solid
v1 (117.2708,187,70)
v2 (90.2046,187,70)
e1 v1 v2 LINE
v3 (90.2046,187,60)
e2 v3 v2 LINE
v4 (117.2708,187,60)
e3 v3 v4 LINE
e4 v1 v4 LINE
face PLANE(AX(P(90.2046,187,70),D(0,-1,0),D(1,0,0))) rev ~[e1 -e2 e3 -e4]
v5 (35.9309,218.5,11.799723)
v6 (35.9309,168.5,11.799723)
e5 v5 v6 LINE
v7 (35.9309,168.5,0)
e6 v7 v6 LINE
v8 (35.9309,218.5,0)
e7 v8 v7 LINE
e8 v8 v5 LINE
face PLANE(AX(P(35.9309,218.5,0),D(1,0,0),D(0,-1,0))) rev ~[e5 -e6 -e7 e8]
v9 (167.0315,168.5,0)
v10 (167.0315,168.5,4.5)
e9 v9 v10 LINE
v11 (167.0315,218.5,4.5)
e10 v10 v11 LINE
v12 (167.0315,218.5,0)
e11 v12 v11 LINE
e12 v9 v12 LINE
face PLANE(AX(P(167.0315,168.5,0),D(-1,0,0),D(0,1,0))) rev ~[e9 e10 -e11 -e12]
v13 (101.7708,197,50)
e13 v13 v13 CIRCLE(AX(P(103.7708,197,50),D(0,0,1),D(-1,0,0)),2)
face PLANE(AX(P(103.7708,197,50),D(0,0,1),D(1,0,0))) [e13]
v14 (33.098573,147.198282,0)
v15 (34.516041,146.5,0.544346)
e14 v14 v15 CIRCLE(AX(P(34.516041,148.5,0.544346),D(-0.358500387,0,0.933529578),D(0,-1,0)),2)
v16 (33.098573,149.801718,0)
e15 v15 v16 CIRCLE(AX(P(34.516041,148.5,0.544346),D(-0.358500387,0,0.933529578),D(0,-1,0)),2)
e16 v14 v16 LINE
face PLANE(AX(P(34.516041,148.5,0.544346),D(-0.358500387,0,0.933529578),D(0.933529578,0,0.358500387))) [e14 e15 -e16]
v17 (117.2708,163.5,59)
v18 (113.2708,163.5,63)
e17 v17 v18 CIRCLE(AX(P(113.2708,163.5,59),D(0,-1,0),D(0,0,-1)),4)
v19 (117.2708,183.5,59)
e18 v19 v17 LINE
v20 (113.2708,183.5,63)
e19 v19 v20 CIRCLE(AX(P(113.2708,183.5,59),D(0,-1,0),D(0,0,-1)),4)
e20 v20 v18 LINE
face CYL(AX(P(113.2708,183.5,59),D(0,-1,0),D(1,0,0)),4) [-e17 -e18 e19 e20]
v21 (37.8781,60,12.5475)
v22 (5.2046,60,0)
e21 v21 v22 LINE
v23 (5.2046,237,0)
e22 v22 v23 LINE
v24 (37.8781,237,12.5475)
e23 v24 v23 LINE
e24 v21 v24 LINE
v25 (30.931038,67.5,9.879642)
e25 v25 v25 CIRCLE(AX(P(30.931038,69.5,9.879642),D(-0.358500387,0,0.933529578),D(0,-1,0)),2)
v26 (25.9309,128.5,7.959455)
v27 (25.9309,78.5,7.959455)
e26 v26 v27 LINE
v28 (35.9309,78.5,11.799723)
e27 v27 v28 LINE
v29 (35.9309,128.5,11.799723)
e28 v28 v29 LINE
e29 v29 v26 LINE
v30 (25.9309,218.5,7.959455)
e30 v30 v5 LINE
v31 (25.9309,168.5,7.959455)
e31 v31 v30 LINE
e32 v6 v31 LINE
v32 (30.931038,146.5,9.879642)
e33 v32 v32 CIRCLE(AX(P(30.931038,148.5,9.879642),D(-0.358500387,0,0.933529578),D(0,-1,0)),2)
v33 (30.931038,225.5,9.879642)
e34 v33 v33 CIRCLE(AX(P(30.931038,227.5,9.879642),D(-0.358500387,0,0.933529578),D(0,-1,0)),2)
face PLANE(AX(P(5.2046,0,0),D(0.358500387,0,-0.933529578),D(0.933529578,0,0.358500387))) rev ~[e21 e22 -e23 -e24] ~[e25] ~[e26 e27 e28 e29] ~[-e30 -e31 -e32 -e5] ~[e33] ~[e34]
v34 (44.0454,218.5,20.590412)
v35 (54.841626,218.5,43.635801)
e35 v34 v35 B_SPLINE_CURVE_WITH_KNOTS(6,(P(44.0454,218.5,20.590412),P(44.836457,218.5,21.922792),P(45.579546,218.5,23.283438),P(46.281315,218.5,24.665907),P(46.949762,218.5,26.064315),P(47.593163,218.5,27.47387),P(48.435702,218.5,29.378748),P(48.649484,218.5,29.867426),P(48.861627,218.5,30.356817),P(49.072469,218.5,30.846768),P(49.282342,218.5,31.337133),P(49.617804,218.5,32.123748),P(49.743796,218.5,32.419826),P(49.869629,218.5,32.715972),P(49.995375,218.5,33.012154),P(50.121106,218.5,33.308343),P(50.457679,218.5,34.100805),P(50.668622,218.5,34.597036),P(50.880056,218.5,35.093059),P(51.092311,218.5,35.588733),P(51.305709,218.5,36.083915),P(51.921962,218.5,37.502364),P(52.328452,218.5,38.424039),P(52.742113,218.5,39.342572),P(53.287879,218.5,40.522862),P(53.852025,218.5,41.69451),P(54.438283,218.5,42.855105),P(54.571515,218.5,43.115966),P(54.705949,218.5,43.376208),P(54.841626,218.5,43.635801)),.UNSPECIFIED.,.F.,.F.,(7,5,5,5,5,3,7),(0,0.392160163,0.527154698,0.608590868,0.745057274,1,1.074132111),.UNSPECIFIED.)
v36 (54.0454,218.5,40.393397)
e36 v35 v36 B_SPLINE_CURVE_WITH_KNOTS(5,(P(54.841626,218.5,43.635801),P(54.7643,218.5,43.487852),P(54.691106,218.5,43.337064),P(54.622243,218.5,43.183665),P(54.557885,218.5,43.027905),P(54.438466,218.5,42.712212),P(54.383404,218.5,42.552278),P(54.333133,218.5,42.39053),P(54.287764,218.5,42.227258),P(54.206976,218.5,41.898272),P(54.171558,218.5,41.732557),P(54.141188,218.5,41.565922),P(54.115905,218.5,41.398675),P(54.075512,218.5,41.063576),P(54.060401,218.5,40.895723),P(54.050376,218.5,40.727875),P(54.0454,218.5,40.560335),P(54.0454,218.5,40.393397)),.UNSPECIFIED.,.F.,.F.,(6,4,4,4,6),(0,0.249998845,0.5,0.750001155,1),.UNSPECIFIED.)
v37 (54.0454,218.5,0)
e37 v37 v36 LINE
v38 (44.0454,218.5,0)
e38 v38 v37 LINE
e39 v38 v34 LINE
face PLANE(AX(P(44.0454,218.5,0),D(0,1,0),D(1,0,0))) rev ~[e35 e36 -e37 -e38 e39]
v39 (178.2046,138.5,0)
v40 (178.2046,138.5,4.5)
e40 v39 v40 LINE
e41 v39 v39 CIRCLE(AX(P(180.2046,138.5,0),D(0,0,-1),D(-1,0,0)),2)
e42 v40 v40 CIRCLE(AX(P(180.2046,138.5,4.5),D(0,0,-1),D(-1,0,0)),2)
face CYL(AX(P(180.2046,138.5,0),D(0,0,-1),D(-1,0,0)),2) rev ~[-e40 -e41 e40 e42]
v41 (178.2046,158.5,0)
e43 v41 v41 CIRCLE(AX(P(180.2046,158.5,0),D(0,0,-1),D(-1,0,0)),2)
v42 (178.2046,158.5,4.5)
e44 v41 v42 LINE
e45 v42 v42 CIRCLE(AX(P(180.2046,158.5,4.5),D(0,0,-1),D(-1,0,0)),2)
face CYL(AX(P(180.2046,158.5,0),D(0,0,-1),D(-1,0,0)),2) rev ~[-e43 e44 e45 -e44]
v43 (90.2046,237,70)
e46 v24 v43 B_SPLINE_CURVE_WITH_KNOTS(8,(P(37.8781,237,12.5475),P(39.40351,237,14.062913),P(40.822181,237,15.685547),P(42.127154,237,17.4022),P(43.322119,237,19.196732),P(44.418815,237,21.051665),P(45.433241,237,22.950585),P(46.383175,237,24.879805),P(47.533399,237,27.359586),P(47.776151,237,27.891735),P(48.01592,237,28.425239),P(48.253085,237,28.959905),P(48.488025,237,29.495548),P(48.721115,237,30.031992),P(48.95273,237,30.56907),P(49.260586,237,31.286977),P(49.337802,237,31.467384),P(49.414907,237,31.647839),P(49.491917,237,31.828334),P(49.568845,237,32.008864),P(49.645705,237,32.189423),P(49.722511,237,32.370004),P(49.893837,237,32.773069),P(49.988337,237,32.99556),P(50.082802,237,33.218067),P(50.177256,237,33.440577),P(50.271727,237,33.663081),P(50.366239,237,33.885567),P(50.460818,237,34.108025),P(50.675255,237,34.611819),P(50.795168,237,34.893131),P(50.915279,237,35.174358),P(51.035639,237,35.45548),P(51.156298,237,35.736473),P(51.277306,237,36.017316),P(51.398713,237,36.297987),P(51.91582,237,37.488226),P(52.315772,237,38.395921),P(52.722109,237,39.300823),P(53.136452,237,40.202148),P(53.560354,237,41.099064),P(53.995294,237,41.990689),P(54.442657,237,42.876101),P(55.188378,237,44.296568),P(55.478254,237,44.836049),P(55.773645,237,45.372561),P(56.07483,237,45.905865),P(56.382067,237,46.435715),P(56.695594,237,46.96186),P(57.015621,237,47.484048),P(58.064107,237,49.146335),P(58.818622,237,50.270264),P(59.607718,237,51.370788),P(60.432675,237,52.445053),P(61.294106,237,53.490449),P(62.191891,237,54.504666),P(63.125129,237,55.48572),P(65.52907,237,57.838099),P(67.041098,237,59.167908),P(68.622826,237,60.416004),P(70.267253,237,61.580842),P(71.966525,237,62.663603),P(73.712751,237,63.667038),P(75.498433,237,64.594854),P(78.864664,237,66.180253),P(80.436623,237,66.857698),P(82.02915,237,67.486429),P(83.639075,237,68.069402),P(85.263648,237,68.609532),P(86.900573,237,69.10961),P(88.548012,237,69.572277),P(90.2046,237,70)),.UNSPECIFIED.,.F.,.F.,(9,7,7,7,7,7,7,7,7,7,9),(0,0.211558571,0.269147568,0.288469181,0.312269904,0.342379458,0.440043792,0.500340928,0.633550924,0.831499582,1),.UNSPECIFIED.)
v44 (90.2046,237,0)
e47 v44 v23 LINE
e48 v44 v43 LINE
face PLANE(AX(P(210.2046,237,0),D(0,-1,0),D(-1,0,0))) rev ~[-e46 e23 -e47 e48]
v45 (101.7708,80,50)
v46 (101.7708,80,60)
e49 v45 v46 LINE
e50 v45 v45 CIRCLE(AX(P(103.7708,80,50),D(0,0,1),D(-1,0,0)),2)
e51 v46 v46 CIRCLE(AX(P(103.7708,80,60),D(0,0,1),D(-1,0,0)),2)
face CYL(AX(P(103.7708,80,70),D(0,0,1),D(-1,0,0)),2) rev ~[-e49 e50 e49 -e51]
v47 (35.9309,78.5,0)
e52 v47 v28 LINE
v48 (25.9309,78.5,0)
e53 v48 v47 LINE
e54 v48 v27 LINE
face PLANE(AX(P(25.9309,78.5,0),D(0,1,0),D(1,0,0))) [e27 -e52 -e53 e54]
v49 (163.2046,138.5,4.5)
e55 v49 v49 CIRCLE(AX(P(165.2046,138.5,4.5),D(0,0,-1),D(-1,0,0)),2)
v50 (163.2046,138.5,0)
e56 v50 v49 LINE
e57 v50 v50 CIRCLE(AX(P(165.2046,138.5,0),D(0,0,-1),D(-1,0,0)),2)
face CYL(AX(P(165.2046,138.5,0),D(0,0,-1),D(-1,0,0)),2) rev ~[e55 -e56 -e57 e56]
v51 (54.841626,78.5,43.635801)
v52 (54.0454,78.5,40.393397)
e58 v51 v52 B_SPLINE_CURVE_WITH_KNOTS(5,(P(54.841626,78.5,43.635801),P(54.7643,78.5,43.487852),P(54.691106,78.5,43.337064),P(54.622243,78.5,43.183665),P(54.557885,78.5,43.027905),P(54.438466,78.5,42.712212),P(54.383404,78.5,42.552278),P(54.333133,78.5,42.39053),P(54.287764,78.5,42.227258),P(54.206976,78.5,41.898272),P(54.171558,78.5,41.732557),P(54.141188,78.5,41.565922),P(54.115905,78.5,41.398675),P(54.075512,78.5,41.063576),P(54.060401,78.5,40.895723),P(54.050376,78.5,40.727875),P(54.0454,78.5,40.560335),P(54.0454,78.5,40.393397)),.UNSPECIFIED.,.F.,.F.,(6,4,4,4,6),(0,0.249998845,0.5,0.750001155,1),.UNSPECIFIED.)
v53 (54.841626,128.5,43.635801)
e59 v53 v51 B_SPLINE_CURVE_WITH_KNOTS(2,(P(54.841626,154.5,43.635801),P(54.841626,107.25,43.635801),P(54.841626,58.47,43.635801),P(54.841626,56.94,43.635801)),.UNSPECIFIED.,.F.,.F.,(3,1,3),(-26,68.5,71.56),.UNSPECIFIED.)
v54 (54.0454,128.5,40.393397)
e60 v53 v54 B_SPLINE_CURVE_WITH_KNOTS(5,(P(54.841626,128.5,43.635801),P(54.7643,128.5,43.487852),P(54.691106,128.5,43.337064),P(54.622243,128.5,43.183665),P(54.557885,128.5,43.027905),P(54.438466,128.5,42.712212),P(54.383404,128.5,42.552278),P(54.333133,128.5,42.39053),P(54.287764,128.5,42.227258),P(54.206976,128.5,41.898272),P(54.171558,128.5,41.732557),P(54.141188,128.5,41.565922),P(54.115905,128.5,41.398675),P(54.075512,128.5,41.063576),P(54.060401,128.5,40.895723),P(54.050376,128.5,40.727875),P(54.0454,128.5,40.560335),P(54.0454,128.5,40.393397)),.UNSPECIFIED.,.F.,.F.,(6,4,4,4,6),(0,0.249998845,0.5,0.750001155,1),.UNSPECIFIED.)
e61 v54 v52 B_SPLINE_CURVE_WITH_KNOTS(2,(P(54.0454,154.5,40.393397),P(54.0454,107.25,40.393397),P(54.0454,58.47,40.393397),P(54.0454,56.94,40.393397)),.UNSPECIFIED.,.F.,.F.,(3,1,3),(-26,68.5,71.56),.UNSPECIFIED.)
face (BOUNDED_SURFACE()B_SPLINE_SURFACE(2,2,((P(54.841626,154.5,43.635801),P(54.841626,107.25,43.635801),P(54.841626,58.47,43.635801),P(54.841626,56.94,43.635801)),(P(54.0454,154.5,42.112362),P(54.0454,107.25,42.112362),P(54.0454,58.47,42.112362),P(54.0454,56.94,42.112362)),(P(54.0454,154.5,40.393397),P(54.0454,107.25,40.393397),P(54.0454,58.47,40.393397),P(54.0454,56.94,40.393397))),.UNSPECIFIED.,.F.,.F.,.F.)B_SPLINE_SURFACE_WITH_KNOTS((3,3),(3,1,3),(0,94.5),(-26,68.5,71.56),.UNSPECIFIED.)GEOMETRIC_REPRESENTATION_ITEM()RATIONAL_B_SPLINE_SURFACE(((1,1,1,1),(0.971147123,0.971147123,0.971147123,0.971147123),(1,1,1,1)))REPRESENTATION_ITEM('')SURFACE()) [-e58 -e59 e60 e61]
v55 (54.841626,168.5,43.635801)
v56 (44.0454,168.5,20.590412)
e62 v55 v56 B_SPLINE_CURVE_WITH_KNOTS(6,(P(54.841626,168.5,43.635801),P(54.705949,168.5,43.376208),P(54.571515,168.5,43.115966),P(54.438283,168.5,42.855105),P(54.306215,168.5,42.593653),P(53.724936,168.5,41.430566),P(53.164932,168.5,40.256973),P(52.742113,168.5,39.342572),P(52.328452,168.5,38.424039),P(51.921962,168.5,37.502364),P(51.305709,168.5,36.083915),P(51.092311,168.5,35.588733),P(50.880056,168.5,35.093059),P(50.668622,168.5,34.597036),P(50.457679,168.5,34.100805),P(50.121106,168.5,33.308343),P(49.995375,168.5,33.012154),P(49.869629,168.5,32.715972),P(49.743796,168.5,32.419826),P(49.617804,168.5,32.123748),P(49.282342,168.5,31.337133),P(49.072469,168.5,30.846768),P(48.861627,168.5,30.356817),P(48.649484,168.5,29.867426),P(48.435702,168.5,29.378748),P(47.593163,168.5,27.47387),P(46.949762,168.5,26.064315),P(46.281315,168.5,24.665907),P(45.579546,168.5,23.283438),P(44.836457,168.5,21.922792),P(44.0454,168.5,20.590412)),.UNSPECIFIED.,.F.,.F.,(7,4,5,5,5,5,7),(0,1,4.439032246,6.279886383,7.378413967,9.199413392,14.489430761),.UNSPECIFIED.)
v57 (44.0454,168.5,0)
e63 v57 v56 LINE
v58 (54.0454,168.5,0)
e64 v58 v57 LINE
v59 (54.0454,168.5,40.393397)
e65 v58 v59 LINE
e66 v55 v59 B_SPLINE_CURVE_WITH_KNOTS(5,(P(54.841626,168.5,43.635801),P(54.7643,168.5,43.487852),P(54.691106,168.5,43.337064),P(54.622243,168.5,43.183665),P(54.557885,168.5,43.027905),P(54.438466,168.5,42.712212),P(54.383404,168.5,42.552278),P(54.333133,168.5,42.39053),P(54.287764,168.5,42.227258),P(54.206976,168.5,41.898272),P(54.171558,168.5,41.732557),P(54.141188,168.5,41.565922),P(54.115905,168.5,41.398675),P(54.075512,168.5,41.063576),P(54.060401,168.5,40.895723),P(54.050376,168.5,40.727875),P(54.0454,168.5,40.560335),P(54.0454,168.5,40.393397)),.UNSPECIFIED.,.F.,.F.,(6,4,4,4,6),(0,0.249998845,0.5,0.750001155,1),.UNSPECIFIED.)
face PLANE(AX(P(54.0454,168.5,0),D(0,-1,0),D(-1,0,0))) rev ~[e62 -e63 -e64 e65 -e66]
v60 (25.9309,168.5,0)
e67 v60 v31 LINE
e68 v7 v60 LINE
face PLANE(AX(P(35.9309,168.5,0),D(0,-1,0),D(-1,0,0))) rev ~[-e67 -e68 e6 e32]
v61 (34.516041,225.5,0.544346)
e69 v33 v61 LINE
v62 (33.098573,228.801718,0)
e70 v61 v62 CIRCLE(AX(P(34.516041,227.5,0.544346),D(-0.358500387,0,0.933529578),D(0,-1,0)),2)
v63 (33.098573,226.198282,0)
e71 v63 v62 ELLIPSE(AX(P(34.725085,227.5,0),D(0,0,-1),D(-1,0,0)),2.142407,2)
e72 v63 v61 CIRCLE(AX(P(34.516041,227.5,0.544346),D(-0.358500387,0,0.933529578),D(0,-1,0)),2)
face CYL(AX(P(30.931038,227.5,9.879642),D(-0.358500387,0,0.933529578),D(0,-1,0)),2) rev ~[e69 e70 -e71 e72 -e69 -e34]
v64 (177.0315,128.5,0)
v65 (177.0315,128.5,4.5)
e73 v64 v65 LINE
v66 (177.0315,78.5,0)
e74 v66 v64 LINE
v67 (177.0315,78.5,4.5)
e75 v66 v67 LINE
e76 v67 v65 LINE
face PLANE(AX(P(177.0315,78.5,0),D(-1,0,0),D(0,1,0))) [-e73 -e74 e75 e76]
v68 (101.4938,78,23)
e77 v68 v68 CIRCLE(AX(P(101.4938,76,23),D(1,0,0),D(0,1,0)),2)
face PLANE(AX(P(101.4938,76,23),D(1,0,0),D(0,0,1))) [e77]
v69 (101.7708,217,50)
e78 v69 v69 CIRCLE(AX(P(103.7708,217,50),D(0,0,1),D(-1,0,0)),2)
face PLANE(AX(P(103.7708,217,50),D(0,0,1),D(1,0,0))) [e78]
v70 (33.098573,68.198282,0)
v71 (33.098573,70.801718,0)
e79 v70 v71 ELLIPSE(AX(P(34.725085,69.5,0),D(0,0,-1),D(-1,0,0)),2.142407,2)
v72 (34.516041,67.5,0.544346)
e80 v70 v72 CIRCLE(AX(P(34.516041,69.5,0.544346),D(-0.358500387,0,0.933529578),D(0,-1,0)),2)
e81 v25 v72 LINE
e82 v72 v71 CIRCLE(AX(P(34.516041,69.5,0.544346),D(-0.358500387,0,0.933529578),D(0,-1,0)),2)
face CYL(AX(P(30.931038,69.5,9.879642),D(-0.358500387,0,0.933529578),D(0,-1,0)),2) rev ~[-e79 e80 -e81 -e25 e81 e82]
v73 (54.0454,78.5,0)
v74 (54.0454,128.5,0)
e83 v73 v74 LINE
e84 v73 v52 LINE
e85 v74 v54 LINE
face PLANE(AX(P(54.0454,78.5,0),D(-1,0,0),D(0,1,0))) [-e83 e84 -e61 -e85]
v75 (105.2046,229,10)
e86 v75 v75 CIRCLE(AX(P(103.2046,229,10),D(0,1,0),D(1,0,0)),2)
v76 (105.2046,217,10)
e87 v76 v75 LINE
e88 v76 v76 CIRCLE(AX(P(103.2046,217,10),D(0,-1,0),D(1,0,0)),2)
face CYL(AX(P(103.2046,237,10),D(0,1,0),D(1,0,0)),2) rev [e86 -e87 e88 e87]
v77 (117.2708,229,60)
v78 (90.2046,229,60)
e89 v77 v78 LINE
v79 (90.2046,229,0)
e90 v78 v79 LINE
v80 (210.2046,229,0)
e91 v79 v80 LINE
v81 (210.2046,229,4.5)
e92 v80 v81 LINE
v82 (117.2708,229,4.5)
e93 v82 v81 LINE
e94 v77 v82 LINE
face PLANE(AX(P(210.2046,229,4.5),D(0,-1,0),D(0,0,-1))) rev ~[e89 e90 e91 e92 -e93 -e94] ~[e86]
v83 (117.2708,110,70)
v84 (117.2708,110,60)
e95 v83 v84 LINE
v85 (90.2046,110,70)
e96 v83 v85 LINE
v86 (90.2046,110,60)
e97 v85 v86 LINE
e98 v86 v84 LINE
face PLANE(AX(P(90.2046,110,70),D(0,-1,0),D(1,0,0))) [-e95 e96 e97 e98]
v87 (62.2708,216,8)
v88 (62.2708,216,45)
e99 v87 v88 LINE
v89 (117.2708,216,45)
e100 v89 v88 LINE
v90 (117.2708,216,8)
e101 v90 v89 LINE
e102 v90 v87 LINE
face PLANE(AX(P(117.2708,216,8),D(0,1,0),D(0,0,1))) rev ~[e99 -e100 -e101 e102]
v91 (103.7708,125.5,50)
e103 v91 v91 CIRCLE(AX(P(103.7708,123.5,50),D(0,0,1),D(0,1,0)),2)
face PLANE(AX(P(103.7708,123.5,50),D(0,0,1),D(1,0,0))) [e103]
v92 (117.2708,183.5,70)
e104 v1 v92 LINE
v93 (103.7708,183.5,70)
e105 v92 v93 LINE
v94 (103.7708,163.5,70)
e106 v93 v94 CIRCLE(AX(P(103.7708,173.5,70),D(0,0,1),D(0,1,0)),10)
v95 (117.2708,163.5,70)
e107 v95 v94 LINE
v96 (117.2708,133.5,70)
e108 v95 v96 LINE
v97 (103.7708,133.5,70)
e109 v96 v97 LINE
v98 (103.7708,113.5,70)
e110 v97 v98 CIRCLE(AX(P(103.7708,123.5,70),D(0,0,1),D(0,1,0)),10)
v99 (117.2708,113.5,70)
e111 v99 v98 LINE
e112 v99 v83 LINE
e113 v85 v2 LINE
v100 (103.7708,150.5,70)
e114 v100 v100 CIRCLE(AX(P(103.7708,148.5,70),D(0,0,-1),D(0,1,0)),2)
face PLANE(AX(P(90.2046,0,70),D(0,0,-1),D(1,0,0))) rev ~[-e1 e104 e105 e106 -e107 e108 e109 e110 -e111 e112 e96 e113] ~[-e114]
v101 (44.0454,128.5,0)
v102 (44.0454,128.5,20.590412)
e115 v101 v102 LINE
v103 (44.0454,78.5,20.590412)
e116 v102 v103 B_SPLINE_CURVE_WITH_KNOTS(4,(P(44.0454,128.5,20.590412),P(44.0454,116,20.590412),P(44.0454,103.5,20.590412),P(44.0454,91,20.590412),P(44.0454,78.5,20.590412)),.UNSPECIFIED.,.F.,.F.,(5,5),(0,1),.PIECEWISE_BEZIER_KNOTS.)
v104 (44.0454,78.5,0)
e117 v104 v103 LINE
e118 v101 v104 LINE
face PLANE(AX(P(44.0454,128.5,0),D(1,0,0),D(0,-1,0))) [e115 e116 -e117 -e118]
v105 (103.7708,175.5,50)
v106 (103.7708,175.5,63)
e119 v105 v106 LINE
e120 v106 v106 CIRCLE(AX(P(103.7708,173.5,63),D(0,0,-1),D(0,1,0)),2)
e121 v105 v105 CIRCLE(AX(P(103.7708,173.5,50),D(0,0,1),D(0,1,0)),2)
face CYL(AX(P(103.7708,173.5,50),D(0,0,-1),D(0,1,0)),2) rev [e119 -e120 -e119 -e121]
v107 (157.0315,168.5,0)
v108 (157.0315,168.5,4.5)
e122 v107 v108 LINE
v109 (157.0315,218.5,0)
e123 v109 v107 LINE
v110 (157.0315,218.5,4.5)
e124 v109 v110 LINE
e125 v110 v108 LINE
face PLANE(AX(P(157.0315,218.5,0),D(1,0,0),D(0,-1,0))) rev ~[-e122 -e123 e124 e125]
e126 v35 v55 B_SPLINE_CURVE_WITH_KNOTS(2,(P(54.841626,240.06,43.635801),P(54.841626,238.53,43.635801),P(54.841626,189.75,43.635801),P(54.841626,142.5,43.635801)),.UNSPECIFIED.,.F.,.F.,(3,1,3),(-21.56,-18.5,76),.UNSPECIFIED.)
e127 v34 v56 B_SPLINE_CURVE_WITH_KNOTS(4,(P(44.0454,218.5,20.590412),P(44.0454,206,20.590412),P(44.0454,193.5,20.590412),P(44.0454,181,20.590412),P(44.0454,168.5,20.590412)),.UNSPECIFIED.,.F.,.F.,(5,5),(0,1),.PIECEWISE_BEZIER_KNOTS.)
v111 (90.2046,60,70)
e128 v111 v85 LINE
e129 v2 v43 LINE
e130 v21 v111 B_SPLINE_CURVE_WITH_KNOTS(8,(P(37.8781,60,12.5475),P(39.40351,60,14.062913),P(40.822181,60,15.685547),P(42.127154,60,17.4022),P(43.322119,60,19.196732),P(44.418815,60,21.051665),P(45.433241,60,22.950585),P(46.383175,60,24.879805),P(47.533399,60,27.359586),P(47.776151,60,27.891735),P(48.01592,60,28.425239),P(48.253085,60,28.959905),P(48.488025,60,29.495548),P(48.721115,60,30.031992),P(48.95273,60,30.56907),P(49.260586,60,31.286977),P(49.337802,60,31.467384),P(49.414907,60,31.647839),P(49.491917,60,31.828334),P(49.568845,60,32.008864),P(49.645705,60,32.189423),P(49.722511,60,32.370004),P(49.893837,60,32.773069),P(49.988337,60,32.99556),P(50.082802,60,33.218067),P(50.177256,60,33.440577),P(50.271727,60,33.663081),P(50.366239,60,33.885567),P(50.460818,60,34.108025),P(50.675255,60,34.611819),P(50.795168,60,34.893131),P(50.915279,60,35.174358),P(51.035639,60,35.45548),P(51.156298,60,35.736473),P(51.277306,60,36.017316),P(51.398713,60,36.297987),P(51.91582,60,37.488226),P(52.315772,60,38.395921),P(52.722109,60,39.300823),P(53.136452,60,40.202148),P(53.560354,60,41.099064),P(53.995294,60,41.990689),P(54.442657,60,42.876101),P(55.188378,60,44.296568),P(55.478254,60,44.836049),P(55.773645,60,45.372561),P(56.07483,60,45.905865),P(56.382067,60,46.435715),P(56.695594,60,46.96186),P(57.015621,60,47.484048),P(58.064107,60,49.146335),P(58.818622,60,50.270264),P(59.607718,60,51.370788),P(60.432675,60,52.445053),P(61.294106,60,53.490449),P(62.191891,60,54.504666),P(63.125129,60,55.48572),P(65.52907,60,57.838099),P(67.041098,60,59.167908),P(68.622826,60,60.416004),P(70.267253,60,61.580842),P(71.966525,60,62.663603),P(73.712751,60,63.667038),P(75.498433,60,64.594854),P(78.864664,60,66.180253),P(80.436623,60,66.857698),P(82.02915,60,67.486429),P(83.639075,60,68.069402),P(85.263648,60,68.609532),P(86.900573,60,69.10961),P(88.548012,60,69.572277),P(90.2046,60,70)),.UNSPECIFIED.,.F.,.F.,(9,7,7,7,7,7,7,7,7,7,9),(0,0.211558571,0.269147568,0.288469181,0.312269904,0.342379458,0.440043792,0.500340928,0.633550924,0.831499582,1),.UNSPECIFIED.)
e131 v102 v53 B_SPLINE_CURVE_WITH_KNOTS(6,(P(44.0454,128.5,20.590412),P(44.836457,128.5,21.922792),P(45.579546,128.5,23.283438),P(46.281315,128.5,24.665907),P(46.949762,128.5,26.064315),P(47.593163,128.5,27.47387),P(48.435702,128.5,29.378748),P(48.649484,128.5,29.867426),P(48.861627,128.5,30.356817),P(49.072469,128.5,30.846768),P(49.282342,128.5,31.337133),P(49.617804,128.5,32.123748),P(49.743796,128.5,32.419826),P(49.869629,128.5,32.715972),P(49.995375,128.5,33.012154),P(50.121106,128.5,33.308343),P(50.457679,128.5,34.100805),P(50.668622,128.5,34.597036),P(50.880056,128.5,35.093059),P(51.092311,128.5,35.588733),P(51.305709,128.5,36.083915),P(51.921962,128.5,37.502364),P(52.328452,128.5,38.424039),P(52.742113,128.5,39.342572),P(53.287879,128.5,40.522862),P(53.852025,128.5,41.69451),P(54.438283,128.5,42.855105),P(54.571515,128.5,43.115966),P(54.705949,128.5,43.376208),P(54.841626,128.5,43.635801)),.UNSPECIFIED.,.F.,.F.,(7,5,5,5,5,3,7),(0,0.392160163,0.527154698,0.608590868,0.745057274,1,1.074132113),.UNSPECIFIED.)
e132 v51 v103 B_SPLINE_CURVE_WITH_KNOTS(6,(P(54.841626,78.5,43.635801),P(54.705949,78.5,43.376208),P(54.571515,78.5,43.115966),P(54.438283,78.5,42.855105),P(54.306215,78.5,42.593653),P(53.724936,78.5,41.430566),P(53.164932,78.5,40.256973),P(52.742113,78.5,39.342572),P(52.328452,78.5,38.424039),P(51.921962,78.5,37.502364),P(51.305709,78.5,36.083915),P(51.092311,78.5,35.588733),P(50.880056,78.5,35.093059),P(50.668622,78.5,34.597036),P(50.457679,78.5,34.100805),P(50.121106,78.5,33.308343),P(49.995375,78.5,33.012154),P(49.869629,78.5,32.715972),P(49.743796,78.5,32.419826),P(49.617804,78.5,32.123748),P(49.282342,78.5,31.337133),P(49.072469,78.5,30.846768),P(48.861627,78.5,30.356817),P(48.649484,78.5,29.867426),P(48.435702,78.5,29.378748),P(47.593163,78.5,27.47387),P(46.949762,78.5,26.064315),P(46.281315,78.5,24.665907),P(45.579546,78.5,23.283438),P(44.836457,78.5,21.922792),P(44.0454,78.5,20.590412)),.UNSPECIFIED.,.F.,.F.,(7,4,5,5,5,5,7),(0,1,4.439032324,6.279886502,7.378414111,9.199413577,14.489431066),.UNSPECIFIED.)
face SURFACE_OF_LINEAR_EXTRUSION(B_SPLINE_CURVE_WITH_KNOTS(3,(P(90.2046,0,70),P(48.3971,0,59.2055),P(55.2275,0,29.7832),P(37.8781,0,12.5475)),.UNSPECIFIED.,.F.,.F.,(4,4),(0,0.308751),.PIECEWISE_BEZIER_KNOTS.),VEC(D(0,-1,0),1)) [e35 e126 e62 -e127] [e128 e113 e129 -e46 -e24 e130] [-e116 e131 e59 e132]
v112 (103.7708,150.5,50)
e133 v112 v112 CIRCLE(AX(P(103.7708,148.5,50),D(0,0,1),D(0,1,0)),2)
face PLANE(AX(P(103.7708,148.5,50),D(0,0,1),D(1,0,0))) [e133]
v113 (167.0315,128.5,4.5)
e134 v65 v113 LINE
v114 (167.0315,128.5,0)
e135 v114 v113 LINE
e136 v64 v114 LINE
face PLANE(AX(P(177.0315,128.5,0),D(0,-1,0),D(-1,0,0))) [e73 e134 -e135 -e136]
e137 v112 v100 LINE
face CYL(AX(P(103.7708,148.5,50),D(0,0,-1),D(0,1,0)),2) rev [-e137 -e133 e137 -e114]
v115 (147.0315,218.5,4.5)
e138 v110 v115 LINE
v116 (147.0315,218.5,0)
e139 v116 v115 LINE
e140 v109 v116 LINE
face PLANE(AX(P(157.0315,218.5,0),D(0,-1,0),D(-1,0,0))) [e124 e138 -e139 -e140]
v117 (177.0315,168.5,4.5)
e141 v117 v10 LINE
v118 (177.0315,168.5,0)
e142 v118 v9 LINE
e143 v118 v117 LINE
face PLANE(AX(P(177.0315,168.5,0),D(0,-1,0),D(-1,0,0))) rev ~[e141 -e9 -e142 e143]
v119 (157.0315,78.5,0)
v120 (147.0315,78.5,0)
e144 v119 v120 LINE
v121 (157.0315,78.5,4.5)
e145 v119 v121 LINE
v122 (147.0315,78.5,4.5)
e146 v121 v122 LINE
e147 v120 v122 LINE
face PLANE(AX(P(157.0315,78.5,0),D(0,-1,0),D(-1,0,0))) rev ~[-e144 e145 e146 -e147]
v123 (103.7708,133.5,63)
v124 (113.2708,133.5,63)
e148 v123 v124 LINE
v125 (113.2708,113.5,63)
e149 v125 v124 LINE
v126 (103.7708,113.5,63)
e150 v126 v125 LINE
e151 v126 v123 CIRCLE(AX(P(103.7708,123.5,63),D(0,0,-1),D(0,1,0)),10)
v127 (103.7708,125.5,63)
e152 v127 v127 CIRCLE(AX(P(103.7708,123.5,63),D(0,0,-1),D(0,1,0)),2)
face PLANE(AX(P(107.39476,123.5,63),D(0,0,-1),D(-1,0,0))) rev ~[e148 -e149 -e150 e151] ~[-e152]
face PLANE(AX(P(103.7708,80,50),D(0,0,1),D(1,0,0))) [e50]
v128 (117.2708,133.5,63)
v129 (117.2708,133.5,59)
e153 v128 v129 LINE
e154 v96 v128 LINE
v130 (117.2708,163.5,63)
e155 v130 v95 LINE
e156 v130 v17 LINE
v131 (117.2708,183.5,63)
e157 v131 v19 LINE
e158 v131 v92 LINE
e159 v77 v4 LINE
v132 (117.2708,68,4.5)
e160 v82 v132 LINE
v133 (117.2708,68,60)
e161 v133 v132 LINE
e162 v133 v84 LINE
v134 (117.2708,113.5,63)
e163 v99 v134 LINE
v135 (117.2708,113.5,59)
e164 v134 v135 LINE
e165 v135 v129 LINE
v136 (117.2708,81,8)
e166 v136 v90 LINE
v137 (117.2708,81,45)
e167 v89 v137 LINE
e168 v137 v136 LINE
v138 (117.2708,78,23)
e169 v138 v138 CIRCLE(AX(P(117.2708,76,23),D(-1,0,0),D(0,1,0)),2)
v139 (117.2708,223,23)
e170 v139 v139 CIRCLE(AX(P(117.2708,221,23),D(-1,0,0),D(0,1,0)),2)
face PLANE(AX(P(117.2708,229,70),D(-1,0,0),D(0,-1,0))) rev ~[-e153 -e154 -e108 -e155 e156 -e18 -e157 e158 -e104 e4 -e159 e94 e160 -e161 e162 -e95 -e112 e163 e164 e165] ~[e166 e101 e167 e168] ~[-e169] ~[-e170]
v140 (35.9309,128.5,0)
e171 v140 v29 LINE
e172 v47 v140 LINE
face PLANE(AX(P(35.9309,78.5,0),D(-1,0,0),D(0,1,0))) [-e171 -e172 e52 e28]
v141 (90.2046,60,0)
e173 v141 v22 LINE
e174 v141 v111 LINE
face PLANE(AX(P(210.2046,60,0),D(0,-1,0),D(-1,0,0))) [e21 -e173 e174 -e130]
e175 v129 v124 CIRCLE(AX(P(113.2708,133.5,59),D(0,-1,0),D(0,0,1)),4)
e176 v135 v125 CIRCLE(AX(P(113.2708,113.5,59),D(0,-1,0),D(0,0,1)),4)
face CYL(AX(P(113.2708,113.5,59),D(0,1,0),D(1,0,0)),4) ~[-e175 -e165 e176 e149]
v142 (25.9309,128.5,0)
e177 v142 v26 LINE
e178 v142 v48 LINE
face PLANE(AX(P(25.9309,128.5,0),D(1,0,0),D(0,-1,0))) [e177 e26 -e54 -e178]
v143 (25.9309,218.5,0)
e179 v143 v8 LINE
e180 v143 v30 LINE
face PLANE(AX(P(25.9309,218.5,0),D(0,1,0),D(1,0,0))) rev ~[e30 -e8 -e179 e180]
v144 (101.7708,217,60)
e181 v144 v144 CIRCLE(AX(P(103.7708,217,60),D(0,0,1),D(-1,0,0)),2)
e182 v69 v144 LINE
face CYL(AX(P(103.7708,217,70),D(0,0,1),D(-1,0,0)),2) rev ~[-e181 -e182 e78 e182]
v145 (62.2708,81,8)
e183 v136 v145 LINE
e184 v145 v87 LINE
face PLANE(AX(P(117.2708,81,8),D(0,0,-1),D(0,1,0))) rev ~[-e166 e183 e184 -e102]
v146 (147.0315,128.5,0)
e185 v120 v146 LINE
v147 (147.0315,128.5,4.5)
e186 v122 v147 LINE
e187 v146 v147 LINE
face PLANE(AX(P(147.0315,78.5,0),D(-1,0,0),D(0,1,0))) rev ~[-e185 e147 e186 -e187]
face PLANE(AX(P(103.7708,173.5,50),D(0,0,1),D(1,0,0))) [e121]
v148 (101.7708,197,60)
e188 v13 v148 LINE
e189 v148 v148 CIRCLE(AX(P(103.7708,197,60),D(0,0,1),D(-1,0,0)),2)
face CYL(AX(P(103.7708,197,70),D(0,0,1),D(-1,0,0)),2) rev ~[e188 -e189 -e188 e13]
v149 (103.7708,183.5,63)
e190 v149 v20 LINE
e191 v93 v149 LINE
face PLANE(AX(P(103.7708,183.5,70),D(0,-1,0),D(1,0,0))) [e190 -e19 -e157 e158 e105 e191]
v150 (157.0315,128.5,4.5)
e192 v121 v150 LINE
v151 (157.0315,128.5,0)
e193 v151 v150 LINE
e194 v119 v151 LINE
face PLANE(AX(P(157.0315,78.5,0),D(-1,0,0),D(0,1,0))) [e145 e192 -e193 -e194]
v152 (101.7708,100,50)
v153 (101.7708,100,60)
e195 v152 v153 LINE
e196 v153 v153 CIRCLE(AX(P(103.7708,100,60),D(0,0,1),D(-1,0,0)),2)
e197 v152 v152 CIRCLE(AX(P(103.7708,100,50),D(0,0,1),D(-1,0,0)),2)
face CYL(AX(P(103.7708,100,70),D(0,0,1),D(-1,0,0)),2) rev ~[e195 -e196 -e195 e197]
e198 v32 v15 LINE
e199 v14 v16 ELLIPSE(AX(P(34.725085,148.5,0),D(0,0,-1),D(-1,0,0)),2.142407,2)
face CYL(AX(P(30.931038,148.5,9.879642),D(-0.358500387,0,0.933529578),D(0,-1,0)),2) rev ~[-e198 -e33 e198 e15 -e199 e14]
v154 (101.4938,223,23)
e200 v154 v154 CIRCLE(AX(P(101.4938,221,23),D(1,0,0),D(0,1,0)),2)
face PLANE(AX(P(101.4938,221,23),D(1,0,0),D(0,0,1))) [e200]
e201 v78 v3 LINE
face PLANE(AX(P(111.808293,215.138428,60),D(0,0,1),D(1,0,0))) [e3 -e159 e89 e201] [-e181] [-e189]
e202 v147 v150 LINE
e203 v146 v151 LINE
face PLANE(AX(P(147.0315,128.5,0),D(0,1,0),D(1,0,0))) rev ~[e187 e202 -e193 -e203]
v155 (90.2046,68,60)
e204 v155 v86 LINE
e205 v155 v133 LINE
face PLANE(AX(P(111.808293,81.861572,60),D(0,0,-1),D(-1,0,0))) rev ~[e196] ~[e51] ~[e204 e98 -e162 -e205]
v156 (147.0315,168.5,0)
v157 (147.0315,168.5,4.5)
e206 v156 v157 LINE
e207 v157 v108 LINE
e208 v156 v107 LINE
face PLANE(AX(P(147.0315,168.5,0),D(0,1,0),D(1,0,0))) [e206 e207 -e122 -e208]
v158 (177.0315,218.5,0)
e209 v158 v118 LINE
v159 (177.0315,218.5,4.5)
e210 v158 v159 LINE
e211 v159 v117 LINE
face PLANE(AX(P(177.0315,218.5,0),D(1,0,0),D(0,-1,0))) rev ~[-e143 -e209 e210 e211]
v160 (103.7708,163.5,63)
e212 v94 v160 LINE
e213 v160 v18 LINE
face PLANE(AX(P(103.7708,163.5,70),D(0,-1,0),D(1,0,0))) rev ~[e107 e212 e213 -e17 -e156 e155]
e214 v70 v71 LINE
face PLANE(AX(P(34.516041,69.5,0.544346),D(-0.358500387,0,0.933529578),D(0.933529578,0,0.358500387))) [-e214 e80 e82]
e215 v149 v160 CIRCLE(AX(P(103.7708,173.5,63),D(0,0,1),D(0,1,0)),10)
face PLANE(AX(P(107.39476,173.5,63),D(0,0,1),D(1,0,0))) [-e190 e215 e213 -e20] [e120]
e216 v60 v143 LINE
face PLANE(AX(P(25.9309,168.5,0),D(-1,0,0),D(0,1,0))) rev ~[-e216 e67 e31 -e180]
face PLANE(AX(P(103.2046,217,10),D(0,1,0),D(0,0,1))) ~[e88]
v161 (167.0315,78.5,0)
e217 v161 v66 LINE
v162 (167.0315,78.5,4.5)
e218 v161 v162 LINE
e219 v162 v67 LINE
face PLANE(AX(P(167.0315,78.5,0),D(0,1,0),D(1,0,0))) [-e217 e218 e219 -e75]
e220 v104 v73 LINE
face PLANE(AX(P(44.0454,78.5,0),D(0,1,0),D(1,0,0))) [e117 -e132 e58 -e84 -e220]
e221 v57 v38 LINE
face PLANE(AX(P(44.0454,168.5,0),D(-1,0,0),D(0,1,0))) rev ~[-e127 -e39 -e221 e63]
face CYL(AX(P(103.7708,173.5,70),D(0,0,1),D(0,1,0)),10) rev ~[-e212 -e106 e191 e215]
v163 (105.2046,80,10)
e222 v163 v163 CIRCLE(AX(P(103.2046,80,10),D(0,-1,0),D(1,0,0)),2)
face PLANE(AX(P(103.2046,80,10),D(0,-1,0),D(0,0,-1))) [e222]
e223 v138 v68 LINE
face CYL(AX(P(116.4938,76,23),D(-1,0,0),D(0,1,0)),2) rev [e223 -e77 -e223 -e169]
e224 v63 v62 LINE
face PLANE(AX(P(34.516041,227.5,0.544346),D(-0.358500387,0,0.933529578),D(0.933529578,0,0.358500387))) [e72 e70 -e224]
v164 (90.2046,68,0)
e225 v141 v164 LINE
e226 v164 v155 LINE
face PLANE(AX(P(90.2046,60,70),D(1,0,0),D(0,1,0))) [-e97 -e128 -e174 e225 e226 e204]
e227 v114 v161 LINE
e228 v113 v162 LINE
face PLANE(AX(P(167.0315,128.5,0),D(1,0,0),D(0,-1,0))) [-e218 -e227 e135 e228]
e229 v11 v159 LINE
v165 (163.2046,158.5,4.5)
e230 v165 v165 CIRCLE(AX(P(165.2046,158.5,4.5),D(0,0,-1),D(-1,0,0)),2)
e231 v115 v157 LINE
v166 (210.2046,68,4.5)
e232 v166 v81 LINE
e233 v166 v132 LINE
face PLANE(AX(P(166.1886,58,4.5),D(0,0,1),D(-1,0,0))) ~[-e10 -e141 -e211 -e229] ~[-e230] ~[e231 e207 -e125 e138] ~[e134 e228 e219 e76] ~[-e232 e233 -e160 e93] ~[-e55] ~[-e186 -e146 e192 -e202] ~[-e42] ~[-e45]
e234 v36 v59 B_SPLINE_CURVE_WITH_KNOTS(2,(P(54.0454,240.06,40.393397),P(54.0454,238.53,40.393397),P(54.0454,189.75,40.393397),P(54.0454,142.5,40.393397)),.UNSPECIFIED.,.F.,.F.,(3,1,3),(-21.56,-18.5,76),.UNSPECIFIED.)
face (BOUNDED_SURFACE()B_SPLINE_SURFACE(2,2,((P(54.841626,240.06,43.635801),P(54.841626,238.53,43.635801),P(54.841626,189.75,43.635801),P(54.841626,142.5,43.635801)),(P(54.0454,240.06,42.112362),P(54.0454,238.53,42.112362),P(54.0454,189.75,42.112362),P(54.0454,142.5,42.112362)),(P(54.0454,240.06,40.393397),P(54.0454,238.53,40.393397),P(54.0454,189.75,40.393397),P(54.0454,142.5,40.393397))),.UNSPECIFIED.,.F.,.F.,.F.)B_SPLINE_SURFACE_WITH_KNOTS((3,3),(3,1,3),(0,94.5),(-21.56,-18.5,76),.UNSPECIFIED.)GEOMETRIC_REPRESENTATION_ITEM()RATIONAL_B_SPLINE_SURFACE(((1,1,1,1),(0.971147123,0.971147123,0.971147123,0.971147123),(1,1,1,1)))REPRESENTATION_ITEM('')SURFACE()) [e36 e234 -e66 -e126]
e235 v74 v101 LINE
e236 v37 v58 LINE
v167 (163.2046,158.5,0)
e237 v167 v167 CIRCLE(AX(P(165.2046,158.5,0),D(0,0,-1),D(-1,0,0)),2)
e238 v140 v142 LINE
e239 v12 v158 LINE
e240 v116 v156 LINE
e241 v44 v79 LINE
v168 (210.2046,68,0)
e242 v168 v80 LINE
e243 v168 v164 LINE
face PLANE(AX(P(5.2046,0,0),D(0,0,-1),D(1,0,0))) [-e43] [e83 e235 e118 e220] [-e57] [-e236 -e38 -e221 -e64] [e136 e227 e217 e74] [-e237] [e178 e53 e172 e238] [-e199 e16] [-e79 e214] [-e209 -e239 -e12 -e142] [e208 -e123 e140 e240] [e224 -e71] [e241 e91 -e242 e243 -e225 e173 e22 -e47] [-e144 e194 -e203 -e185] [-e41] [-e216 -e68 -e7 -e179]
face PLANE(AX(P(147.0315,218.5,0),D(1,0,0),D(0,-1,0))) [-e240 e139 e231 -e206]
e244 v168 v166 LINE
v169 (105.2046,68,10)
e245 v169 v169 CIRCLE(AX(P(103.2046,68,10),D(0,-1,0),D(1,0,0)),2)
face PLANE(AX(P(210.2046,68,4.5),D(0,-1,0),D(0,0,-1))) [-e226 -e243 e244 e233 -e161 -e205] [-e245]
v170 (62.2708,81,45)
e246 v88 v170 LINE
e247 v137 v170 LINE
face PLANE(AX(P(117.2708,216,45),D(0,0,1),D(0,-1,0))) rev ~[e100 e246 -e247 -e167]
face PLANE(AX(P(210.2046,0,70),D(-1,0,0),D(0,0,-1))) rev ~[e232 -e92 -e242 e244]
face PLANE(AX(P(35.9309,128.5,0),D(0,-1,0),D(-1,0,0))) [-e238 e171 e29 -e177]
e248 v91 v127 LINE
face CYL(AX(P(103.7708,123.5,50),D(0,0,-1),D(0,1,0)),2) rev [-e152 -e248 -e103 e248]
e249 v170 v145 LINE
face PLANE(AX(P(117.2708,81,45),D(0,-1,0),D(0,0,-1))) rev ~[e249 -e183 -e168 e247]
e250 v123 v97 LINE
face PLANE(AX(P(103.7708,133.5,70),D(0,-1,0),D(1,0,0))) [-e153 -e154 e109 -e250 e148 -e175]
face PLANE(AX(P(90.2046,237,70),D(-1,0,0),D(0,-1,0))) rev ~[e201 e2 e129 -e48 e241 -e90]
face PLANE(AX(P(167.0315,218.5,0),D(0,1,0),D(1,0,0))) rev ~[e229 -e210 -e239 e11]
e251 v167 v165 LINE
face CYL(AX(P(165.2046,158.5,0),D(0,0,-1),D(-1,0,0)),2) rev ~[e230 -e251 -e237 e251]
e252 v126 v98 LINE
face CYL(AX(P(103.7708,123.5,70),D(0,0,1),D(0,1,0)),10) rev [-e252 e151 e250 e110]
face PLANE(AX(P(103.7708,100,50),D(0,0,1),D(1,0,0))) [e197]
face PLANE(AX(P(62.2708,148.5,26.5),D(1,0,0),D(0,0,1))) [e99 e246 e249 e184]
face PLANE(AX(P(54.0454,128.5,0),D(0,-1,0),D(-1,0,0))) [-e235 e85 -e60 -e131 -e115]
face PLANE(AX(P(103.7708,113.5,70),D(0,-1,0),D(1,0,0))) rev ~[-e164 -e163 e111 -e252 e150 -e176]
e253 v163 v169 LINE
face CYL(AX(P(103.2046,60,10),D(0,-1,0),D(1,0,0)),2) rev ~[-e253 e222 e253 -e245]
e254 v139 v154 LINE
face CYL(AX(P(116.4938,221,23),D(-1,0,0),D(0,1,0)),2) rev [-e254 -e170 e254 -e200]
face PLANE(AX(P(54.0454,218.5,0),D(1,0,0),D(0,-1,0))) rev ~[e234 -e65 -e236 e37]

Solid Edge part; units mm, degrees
sketch "Sketch1" plane through (0, 0, 0) normal (0, -1, 0) x (1, 0, 0)
  spline S0 degree 3 poles (90.2046, 70) (48.3971, 59.2055) (55.2275, 29.7832) (37.8781, 12.5475) knots 0 0 0 0 0.308751 0.308751 0.308751 0.308751
  line L0 (5.2046, 0) -> (37.8781, 12.5475)
  line L1 (5.2046, 0) -> (210.2046, 0)
  line L2 (210.2046, 0) -> (210.2046, 50)
  line L3 (210.2046, 70) -> (210.2046, 50)
  line L4 (90.2046, 70) -> (210.2046, 70)
extrude "Protrusion1" add sketch "Sketch1" against normal blind 297
sketch "Sketch2" plane through (0, 0, 0) normal (0, 0, 1) x (1, 0, 0)
  line L0 (210.2046, 237) -> (5.2046, 237)
  line L1 (5.2046, 237) -> (5.2046, 297)
  line L2 (5.2046, 297) -> (210.2046, 297)
  line L3 (210.2046, 297) -> (210.2046, 237)
  line L4 (210.2046, 60) -> (5.2046, 60)
  line L5 (5.2046, 60) -> (5.2046, 0)
  line L6 (5.2046, 0) -> (210.2046, 0)
  line L7 (210.2046, 0) -> (210.2046, 60)
extrude "VaciadoExtruido_15" cut sketch "Sketch2" along normal blind 144.3663
sketch "Sketch3" plane through (157.6535, 148.5, 70) normal (0, 0, 1) x (0, -1, 0)
  line L0 (80.5, 44.6173) -> (-80.5, 44.6173)
  line L1 (-80.5, 44.6173) -> (-80.5, -40.3827)
  line L2 (-80.5, -40.3827) -> (80.5, -40.3827)
  line L3 (80.5, 44.6173) -> (80.5, -40.3827)
extrude "VaciadoExtruido_16" cut sketch "Sketch3" against normal blind 65.5
sketch "Sketch4" plane through (202.2046, 148.5, 25) normal (-1, 0, 0) x (0, 0, -1)
  line L0 (25, 88.4881) -> (25, 43.4881)
  line L1 (-25, 43.4881) -> (25, 43.4881)
  line L2 (-25, 88.4881) -> (-25, 43.4881)
  line L3 (-25, 88.4881) -> (25, 88.4881)
  line L4 (24.9756, -88.5019) -> (24.988, -43.5019)
  line L5 (-25.012, -43.4881) -> (24.988, -43.5019)
  line L6 (-25.0244, -88.4881) -> (-25.012, -43.4881)
  line L7 (-25.0244, -88.4881) -> (24.9756, -88.5019)
extrude "ProtrusiónExtruida_16" add sketch "Sketch4" along normal blind 10
sketch "Sketch5" plane through (202.2046, 148.5, 25) normal (-1, 0, 0) x (0, 0, -1)
  circle A0 centre (-15, -78.0006) radius 2
  circle A1 centre (-15, -54.0006) radius 2
  circle A2 centre (15, 78.0006) radius 2
  circle A3 centre (15, 54.0006) radius 1.75
  circle A4 centre (-15, 78.0006) radius 2
  circle A5 centre (15, -78.0006) radius 2
  circle A6 centre (15, -54.0006) radius 1.75
  circle A7 centre (-15, 54.0006) radius 2
  dimension "D1" = 10.5
extrude "VaciadoExtruido_17" cut sketch "Sketch5" along normal mid plane 80.0386
sketch "Sketch6" plane through (152.6535, 239, 25) normal (0, -1, 0) x (0, 0, 1)
  arc A0 (-20.5, -13.5351) -> (20.5, -13.5351) centre (0, -13.5351) cw
  line L0 (20.5, -13.5351) -> (20.5, -39.5512)
  line L1 (20.5, -39.5512) -> (-20.5, -39.5512)
  line L2 (-20.5, -13.5351) -> (-20.5, -39.5512)
extrude "Cutout1" cut sketch "Sketch6" along normal blind 79.274
mirror "Mirror1" about plane through (157.6535, 148.5, 25) normal (0, -1, 0) of "Cutout1"
sketch "Sketch7" plane through (157.6535, 148.5, 4.5) normal (0, 0, 1) x (0, -1, 0)
  line L0 (14.9942, 0.4033) -> (14.9942, 35.5165)
  line L1 (14.9942, 35.5165) -> (14.9942, 44.5512)
  line L2 (14.9942, 44.5512) -> (-14.9942, 44.5512)
  line L3 (-14.9942, 44.5512) -> (-14.9942, 35.5165)
  line L4 (-14.9942, 35.5165) -> (-14.9942, 0.4033)
  line L5 (-14.9942, 0.4033) -> (14.9942, 0.4033)
extrude "ProtrusiónExtruida_17" add sketch "Sketch7" along normal blind 4
sketch "Sketch8" plane through (107.7046, 148.5, 0) normal (0, 0, -1) x (-1, 0, 0)
  circle A0 centre (-57.5, 10) radius 2
  circle A1 centre (-57.5, -10) radius 2
  circle A2 centre (-72.5, -10) radius 2
  circle A3 centre (-72.5, 10) radius 2
  dimension "D1" = 15
  dimension "D2" = 20
  dimension "D3" = 30
  dimension "D4" = 30
  dimension "D5" = 15
extrude "VaciadoExtruido_36" cut sketch "Sketch8" along normal mid plane 45.6601
sketch "Sketch9" plane through (107.7046, 148.5, 0) normal (0, 0, -1) x (0, 1, 0)
  line L0 (-70, 49.3269) -> (-20, 49.3269)
  line L1 (-20, 39.3269) -> (-20, 49.3269)
  line L2 (-70, 39.3269) -> (-20, 39.3269)
  line L3 (-70, 49.3269) -> (-70, 39.3269)
  line L4 (-20, -53.6592) -> (-20, -63.6592)
  line L5 (-20, -63.6592) -> (-70, -63.6592)
  line L6 (-70, -63.6592) -> (-70, -53.6592)
  line L7 (-70, -53.6592) -> (-20, -53.6592)
  line L8 (-20, -71.7737) -> (-20, -81.7737)
  line L9 (-20, -81.7737) -> (-70, -81.7737)
  line L10 (-70, -81.7737) -> (-70, -71.7737)
  line L11 (-70, -71.7737) -> (-20, -71.7737)
  line L12 (20, 69.3269) -> (20, 59.3269)
  line L13 (20, 59.3269) -> (70, 59.3269)
  line L14 (70, 59.3269) -> (70, 69.3269)
  line L15 (70, 69.3269) -> (20, 69.3269)
  line L16 (70, 49.3269) -> (20, 49.3269)
  line L17 (20, 39.3269) -> (20, 49.3269)
  line L18 (70, 39.3269) -> (20, 39.3269)
  line L19 (70, 49.3269) -> (70, 39.3269)
  line L20 (20, -53.6592) -> (20, -63.6592)
  line L21 (20, -63.6592) -> (70, -63.6592)
  line L22 (70, -63.6592) -> (70, -53.6592)
  line L23 (70, -53.6592) -> (20, -53.6592)
  line L24 (20, -71.7737) -> (20, -81.7737)
  line L25 (20, -81.7737) -> (70, -81.7737)
  line L26 (70, -81.7737) -> (70, -71.7737)
  line L27 (70, -71.7737) -> (20, -71.7737)
  line L28 (-20, 69.3269) -> (-20, 59.3269)
  line L29 (-20, 59.3269) -> (-70, 59.3269)
  line L30 (-70, 59.3269) -> (-70, 69.3269)
  line L31 (-70, 69.3269) -> (-20, 69.3269)
  dimension "D1" = 10
extrude "Cutout3" cut sketch "Sketch9" against normal blind 70 and the other way up to next
fillet "Round1" radius 7 2 edges at (54.0455, 193.5, 42.0693) (54.0455, 103.5, 42.0693)
sketch "Sketch10" plane through (117.2708, 148.5, 25) normal (1, 0, 0) x (0, 1, 0)
  line L0 (-67.5, -17) -> (67.5, -17)
  line L1 (67.5, -17) -> (67.5, 20)
  line L2 (67.5, 20) -> (-67.5, 20)
  line L3 (-67.5, 20) -> (-67.5, -17)
extrude "Cutout4" cut sketch "Sketch10" against normal blind 55
sketch "Sketch11" plane through (150.2046, 148.5, 70) normal (0, 0, 1) x (-1, 0, 0)
  circle A0 centre (46.4338, 68.5) radius 2
  circle A1 centre (46.4338, 48.5) radius 2
  circle A2 centre (46.4338, -68.5) radius 2
  circle A3 centre (46.4338, -48.5) radius 2
extrude "VaciadoExtruido_45" cut sketch "Sketch11" against normal blind 20 and the other way blind 20
sketch "Sketch12" plane through (150.2046, 148.5, 70) normal (0, 0, 1) x (1, 0, 0)
  line L0 (-32.9338, 38.5) -> (-8.6851, 80.5)
  line L1 (-8.6851, 80.5) -> (-32.9338, 80.5)
  line L2 (-32.9338, 80.5) -> (-32.9338, 38.5)
  line L3 (-32.9338, -38.5) -> (-8.6851, -80.5)
  line L4 (-8.6851, -80.5) -> (-32.9338, -80.5)
  line L5 (-32.9338, -80.5) -> (-32.9338, -38.5)
extrude "Protrusion2" add sketch "Sketch12" against normal blind 10
sketch "Sketch13" plane through (150.2046, 148.5, 70) normal (0, 0, 1) x (1, 0, 0)
  line L0 (-60, 88.5) -> (-60, 38.5)
  line L1 (-60, 38.5) -> (-32.9338, 38.5)
  line L2 (-32.9338, 38.5) -> (-8.6851, 80.5)
  line L3 (-8.6851, 80.5) -> (-8.6851, 88.5)
  line L4 (-8.6851, 88.5) -> (-60, 88.5)
  line L5 (-60, -88.5) -> (-60, -38.5)
  line L6 (-60, -38.5) -> (-32.9338, -38.5)
  line L7 (-32.9338, -38.5) -> (-8.6851, -80.5)
  line L8 (-8.6851, -80.5) -> (-8.6851, -88.5)
  line L9 (-8.6851, -88.5) -> (-60, -88.5)
extrude "VaciadoExtruido_50" cut sketch "Sketch13" against normal blind 10 and the other way blind 14.1958
sketch "Sketch14" plane through (210.2046, 148.5, 35) normal (1, 0, 0) x (0, 1, 0)
  line L0 (0, -30.5) -> (-80.5, -30.5)
  line L1 (-80.5, -30.5) -> (-80.5, -35)
  line L2 (-80.5, -35) -> (-88.5, -35)
  line L3 (-88.5, -35) -> (-88.5, 35)
  line L4 (-88.5, 35) -> (0, 35)
  line L5 (0, 35) -> (88.5, 35)
  line L6 (88.5, 35) -> (95.3077, 35)
  line L7 (95.3077, 35) -> (95.3077, -35)
  line L8 (95.3077, -35) -> (88.5, -35)
  line L9 (80.5, -35) -> (88.5, -35)
  line L10 (80.5, -30.5) -> (80.5, -35)
  line L11 (0, -30.5) -> (80.5, -30.5)
extrude "VaciadoExtruido_51" cut sketch "Sketch14" against normal blind 92.93 and the other way blind 81.2048
sketch "Sketch15" plane through (60.8492, 60, 35) normal (0, -1, 0) x (1, 0, 0)
  circle A0 centre (42.3554, -25) radius 2
extrude "VaciadoExtruido_52" cut sketch "Sketch15" against normal blind 20 and the other way blind 16.3305
mirror "Mirror2" about plane through (157.6535, 148.5, 25) normal (0, -1, 0) of "VaciadoExtruido_52"
sketch "Sketch16" plane through (103.3492, 212, 60) normal (0, 0, 1) x (1, 0, 0)
  line L0 (13.9254, 17) -> (-13.1446, 17)
  line L1 (-13.1446, 17) -> (-13.1446, 25)
  line L2 (-13.1446, 25) -> (13.9254, 25)
  line L3 (13.9254, 25) -> (13.9254, 17)
  line L4 (13.9254, -144) -> (-13.1446, -144)
  line L5 (-13.1446, -144) -> (-13.1446, -152)
  line L6 (-13.1446, -152) -> (13.9254, -152)
  line L7 (13.9254, -152) -> (13.9254, -144)
extrude "VaciadoExtruido_54" cut sketch "Sketch16" against normal blind 132.7394 and the other way blind 37.0641
sketch "Sketch17" plane through (116.4938, 148.5, 37.25) normal (1, 0, 0) x (0, 1, 0)
  circle A0 centre (-72.5, -14.25) radius 2
  circle A1 centre (72.5, -14.25) radius 2
extrude "VaciadoExtruido_55" cut sketch "Sketch17" along normal mid plane 30
sketch "Sketch18" plane through (103.3492, 148.5, 70) normal (0, 0, 1) x (0, 1, 0)
  line L0 (-15, -0.4216) -> (-15, -13.9216)
  line L1 (-35, -13.9216) -> (-15, -13.9216)
  line L2 (-35, -0.4216) -> (-35, -13.9216)
  arc A0 (-35, -0.4216) -> (-15, -0.4216) centre (-25, -0.4216) cw
  line L3 (15, -0.4216) -> (15, -13.9216)
  line L4 (35, -13.9216) -> (15, -13.9216)
  line L5 (35, -0.4216) -> (35, -13.9216)
  arc A1 (35, -0.4216) -> (15, -0.4216) centre (25, -0.4216) ccw
extrude "VaciadoExtruido_56" cut sketch "Sketch18" against normal blind 7 and the other way blind 7.5199
sketch "Sketch19" plane through (150.2046, 148.5, 50) normal (0, 0, 1) x (0, 1, 0)
  circle A0 centre (-25, 46.4338) radius 2
  circle A1 centre (84.6766, -56.1177) radius 2
  circle A2 centre (-84.6766, -56.1177) radius 2
  circle A3 centre (25, 46.4338) radius 2
  circle A4 centre (0, 46.4338) radius 2
extrude "VaciadoExtruido_34" cut sketch "Sketch19" along normal blind 79.2936
sketch "Sketch20" plane through (21.5414, 148.5, 6.2738) normal (-0.3585, 0, 0.9335) x (0, -1, 0)
  circle A0 centre (79, 10.0582) radius 2
  circle A1 centre (0, 10.0582) radius 2
  circle A2 centre (-79, 10.0582) radius 2
extrude "VaciadoExtruido_57" cut sketch "Sketch20" along normal mid plane 20
fillet "Redondeo_5" [suppressed]
fillet "Round2" radius 4 2 edges at (117.2708, 123.5, 63) (117.2708, 173.5, 63)
